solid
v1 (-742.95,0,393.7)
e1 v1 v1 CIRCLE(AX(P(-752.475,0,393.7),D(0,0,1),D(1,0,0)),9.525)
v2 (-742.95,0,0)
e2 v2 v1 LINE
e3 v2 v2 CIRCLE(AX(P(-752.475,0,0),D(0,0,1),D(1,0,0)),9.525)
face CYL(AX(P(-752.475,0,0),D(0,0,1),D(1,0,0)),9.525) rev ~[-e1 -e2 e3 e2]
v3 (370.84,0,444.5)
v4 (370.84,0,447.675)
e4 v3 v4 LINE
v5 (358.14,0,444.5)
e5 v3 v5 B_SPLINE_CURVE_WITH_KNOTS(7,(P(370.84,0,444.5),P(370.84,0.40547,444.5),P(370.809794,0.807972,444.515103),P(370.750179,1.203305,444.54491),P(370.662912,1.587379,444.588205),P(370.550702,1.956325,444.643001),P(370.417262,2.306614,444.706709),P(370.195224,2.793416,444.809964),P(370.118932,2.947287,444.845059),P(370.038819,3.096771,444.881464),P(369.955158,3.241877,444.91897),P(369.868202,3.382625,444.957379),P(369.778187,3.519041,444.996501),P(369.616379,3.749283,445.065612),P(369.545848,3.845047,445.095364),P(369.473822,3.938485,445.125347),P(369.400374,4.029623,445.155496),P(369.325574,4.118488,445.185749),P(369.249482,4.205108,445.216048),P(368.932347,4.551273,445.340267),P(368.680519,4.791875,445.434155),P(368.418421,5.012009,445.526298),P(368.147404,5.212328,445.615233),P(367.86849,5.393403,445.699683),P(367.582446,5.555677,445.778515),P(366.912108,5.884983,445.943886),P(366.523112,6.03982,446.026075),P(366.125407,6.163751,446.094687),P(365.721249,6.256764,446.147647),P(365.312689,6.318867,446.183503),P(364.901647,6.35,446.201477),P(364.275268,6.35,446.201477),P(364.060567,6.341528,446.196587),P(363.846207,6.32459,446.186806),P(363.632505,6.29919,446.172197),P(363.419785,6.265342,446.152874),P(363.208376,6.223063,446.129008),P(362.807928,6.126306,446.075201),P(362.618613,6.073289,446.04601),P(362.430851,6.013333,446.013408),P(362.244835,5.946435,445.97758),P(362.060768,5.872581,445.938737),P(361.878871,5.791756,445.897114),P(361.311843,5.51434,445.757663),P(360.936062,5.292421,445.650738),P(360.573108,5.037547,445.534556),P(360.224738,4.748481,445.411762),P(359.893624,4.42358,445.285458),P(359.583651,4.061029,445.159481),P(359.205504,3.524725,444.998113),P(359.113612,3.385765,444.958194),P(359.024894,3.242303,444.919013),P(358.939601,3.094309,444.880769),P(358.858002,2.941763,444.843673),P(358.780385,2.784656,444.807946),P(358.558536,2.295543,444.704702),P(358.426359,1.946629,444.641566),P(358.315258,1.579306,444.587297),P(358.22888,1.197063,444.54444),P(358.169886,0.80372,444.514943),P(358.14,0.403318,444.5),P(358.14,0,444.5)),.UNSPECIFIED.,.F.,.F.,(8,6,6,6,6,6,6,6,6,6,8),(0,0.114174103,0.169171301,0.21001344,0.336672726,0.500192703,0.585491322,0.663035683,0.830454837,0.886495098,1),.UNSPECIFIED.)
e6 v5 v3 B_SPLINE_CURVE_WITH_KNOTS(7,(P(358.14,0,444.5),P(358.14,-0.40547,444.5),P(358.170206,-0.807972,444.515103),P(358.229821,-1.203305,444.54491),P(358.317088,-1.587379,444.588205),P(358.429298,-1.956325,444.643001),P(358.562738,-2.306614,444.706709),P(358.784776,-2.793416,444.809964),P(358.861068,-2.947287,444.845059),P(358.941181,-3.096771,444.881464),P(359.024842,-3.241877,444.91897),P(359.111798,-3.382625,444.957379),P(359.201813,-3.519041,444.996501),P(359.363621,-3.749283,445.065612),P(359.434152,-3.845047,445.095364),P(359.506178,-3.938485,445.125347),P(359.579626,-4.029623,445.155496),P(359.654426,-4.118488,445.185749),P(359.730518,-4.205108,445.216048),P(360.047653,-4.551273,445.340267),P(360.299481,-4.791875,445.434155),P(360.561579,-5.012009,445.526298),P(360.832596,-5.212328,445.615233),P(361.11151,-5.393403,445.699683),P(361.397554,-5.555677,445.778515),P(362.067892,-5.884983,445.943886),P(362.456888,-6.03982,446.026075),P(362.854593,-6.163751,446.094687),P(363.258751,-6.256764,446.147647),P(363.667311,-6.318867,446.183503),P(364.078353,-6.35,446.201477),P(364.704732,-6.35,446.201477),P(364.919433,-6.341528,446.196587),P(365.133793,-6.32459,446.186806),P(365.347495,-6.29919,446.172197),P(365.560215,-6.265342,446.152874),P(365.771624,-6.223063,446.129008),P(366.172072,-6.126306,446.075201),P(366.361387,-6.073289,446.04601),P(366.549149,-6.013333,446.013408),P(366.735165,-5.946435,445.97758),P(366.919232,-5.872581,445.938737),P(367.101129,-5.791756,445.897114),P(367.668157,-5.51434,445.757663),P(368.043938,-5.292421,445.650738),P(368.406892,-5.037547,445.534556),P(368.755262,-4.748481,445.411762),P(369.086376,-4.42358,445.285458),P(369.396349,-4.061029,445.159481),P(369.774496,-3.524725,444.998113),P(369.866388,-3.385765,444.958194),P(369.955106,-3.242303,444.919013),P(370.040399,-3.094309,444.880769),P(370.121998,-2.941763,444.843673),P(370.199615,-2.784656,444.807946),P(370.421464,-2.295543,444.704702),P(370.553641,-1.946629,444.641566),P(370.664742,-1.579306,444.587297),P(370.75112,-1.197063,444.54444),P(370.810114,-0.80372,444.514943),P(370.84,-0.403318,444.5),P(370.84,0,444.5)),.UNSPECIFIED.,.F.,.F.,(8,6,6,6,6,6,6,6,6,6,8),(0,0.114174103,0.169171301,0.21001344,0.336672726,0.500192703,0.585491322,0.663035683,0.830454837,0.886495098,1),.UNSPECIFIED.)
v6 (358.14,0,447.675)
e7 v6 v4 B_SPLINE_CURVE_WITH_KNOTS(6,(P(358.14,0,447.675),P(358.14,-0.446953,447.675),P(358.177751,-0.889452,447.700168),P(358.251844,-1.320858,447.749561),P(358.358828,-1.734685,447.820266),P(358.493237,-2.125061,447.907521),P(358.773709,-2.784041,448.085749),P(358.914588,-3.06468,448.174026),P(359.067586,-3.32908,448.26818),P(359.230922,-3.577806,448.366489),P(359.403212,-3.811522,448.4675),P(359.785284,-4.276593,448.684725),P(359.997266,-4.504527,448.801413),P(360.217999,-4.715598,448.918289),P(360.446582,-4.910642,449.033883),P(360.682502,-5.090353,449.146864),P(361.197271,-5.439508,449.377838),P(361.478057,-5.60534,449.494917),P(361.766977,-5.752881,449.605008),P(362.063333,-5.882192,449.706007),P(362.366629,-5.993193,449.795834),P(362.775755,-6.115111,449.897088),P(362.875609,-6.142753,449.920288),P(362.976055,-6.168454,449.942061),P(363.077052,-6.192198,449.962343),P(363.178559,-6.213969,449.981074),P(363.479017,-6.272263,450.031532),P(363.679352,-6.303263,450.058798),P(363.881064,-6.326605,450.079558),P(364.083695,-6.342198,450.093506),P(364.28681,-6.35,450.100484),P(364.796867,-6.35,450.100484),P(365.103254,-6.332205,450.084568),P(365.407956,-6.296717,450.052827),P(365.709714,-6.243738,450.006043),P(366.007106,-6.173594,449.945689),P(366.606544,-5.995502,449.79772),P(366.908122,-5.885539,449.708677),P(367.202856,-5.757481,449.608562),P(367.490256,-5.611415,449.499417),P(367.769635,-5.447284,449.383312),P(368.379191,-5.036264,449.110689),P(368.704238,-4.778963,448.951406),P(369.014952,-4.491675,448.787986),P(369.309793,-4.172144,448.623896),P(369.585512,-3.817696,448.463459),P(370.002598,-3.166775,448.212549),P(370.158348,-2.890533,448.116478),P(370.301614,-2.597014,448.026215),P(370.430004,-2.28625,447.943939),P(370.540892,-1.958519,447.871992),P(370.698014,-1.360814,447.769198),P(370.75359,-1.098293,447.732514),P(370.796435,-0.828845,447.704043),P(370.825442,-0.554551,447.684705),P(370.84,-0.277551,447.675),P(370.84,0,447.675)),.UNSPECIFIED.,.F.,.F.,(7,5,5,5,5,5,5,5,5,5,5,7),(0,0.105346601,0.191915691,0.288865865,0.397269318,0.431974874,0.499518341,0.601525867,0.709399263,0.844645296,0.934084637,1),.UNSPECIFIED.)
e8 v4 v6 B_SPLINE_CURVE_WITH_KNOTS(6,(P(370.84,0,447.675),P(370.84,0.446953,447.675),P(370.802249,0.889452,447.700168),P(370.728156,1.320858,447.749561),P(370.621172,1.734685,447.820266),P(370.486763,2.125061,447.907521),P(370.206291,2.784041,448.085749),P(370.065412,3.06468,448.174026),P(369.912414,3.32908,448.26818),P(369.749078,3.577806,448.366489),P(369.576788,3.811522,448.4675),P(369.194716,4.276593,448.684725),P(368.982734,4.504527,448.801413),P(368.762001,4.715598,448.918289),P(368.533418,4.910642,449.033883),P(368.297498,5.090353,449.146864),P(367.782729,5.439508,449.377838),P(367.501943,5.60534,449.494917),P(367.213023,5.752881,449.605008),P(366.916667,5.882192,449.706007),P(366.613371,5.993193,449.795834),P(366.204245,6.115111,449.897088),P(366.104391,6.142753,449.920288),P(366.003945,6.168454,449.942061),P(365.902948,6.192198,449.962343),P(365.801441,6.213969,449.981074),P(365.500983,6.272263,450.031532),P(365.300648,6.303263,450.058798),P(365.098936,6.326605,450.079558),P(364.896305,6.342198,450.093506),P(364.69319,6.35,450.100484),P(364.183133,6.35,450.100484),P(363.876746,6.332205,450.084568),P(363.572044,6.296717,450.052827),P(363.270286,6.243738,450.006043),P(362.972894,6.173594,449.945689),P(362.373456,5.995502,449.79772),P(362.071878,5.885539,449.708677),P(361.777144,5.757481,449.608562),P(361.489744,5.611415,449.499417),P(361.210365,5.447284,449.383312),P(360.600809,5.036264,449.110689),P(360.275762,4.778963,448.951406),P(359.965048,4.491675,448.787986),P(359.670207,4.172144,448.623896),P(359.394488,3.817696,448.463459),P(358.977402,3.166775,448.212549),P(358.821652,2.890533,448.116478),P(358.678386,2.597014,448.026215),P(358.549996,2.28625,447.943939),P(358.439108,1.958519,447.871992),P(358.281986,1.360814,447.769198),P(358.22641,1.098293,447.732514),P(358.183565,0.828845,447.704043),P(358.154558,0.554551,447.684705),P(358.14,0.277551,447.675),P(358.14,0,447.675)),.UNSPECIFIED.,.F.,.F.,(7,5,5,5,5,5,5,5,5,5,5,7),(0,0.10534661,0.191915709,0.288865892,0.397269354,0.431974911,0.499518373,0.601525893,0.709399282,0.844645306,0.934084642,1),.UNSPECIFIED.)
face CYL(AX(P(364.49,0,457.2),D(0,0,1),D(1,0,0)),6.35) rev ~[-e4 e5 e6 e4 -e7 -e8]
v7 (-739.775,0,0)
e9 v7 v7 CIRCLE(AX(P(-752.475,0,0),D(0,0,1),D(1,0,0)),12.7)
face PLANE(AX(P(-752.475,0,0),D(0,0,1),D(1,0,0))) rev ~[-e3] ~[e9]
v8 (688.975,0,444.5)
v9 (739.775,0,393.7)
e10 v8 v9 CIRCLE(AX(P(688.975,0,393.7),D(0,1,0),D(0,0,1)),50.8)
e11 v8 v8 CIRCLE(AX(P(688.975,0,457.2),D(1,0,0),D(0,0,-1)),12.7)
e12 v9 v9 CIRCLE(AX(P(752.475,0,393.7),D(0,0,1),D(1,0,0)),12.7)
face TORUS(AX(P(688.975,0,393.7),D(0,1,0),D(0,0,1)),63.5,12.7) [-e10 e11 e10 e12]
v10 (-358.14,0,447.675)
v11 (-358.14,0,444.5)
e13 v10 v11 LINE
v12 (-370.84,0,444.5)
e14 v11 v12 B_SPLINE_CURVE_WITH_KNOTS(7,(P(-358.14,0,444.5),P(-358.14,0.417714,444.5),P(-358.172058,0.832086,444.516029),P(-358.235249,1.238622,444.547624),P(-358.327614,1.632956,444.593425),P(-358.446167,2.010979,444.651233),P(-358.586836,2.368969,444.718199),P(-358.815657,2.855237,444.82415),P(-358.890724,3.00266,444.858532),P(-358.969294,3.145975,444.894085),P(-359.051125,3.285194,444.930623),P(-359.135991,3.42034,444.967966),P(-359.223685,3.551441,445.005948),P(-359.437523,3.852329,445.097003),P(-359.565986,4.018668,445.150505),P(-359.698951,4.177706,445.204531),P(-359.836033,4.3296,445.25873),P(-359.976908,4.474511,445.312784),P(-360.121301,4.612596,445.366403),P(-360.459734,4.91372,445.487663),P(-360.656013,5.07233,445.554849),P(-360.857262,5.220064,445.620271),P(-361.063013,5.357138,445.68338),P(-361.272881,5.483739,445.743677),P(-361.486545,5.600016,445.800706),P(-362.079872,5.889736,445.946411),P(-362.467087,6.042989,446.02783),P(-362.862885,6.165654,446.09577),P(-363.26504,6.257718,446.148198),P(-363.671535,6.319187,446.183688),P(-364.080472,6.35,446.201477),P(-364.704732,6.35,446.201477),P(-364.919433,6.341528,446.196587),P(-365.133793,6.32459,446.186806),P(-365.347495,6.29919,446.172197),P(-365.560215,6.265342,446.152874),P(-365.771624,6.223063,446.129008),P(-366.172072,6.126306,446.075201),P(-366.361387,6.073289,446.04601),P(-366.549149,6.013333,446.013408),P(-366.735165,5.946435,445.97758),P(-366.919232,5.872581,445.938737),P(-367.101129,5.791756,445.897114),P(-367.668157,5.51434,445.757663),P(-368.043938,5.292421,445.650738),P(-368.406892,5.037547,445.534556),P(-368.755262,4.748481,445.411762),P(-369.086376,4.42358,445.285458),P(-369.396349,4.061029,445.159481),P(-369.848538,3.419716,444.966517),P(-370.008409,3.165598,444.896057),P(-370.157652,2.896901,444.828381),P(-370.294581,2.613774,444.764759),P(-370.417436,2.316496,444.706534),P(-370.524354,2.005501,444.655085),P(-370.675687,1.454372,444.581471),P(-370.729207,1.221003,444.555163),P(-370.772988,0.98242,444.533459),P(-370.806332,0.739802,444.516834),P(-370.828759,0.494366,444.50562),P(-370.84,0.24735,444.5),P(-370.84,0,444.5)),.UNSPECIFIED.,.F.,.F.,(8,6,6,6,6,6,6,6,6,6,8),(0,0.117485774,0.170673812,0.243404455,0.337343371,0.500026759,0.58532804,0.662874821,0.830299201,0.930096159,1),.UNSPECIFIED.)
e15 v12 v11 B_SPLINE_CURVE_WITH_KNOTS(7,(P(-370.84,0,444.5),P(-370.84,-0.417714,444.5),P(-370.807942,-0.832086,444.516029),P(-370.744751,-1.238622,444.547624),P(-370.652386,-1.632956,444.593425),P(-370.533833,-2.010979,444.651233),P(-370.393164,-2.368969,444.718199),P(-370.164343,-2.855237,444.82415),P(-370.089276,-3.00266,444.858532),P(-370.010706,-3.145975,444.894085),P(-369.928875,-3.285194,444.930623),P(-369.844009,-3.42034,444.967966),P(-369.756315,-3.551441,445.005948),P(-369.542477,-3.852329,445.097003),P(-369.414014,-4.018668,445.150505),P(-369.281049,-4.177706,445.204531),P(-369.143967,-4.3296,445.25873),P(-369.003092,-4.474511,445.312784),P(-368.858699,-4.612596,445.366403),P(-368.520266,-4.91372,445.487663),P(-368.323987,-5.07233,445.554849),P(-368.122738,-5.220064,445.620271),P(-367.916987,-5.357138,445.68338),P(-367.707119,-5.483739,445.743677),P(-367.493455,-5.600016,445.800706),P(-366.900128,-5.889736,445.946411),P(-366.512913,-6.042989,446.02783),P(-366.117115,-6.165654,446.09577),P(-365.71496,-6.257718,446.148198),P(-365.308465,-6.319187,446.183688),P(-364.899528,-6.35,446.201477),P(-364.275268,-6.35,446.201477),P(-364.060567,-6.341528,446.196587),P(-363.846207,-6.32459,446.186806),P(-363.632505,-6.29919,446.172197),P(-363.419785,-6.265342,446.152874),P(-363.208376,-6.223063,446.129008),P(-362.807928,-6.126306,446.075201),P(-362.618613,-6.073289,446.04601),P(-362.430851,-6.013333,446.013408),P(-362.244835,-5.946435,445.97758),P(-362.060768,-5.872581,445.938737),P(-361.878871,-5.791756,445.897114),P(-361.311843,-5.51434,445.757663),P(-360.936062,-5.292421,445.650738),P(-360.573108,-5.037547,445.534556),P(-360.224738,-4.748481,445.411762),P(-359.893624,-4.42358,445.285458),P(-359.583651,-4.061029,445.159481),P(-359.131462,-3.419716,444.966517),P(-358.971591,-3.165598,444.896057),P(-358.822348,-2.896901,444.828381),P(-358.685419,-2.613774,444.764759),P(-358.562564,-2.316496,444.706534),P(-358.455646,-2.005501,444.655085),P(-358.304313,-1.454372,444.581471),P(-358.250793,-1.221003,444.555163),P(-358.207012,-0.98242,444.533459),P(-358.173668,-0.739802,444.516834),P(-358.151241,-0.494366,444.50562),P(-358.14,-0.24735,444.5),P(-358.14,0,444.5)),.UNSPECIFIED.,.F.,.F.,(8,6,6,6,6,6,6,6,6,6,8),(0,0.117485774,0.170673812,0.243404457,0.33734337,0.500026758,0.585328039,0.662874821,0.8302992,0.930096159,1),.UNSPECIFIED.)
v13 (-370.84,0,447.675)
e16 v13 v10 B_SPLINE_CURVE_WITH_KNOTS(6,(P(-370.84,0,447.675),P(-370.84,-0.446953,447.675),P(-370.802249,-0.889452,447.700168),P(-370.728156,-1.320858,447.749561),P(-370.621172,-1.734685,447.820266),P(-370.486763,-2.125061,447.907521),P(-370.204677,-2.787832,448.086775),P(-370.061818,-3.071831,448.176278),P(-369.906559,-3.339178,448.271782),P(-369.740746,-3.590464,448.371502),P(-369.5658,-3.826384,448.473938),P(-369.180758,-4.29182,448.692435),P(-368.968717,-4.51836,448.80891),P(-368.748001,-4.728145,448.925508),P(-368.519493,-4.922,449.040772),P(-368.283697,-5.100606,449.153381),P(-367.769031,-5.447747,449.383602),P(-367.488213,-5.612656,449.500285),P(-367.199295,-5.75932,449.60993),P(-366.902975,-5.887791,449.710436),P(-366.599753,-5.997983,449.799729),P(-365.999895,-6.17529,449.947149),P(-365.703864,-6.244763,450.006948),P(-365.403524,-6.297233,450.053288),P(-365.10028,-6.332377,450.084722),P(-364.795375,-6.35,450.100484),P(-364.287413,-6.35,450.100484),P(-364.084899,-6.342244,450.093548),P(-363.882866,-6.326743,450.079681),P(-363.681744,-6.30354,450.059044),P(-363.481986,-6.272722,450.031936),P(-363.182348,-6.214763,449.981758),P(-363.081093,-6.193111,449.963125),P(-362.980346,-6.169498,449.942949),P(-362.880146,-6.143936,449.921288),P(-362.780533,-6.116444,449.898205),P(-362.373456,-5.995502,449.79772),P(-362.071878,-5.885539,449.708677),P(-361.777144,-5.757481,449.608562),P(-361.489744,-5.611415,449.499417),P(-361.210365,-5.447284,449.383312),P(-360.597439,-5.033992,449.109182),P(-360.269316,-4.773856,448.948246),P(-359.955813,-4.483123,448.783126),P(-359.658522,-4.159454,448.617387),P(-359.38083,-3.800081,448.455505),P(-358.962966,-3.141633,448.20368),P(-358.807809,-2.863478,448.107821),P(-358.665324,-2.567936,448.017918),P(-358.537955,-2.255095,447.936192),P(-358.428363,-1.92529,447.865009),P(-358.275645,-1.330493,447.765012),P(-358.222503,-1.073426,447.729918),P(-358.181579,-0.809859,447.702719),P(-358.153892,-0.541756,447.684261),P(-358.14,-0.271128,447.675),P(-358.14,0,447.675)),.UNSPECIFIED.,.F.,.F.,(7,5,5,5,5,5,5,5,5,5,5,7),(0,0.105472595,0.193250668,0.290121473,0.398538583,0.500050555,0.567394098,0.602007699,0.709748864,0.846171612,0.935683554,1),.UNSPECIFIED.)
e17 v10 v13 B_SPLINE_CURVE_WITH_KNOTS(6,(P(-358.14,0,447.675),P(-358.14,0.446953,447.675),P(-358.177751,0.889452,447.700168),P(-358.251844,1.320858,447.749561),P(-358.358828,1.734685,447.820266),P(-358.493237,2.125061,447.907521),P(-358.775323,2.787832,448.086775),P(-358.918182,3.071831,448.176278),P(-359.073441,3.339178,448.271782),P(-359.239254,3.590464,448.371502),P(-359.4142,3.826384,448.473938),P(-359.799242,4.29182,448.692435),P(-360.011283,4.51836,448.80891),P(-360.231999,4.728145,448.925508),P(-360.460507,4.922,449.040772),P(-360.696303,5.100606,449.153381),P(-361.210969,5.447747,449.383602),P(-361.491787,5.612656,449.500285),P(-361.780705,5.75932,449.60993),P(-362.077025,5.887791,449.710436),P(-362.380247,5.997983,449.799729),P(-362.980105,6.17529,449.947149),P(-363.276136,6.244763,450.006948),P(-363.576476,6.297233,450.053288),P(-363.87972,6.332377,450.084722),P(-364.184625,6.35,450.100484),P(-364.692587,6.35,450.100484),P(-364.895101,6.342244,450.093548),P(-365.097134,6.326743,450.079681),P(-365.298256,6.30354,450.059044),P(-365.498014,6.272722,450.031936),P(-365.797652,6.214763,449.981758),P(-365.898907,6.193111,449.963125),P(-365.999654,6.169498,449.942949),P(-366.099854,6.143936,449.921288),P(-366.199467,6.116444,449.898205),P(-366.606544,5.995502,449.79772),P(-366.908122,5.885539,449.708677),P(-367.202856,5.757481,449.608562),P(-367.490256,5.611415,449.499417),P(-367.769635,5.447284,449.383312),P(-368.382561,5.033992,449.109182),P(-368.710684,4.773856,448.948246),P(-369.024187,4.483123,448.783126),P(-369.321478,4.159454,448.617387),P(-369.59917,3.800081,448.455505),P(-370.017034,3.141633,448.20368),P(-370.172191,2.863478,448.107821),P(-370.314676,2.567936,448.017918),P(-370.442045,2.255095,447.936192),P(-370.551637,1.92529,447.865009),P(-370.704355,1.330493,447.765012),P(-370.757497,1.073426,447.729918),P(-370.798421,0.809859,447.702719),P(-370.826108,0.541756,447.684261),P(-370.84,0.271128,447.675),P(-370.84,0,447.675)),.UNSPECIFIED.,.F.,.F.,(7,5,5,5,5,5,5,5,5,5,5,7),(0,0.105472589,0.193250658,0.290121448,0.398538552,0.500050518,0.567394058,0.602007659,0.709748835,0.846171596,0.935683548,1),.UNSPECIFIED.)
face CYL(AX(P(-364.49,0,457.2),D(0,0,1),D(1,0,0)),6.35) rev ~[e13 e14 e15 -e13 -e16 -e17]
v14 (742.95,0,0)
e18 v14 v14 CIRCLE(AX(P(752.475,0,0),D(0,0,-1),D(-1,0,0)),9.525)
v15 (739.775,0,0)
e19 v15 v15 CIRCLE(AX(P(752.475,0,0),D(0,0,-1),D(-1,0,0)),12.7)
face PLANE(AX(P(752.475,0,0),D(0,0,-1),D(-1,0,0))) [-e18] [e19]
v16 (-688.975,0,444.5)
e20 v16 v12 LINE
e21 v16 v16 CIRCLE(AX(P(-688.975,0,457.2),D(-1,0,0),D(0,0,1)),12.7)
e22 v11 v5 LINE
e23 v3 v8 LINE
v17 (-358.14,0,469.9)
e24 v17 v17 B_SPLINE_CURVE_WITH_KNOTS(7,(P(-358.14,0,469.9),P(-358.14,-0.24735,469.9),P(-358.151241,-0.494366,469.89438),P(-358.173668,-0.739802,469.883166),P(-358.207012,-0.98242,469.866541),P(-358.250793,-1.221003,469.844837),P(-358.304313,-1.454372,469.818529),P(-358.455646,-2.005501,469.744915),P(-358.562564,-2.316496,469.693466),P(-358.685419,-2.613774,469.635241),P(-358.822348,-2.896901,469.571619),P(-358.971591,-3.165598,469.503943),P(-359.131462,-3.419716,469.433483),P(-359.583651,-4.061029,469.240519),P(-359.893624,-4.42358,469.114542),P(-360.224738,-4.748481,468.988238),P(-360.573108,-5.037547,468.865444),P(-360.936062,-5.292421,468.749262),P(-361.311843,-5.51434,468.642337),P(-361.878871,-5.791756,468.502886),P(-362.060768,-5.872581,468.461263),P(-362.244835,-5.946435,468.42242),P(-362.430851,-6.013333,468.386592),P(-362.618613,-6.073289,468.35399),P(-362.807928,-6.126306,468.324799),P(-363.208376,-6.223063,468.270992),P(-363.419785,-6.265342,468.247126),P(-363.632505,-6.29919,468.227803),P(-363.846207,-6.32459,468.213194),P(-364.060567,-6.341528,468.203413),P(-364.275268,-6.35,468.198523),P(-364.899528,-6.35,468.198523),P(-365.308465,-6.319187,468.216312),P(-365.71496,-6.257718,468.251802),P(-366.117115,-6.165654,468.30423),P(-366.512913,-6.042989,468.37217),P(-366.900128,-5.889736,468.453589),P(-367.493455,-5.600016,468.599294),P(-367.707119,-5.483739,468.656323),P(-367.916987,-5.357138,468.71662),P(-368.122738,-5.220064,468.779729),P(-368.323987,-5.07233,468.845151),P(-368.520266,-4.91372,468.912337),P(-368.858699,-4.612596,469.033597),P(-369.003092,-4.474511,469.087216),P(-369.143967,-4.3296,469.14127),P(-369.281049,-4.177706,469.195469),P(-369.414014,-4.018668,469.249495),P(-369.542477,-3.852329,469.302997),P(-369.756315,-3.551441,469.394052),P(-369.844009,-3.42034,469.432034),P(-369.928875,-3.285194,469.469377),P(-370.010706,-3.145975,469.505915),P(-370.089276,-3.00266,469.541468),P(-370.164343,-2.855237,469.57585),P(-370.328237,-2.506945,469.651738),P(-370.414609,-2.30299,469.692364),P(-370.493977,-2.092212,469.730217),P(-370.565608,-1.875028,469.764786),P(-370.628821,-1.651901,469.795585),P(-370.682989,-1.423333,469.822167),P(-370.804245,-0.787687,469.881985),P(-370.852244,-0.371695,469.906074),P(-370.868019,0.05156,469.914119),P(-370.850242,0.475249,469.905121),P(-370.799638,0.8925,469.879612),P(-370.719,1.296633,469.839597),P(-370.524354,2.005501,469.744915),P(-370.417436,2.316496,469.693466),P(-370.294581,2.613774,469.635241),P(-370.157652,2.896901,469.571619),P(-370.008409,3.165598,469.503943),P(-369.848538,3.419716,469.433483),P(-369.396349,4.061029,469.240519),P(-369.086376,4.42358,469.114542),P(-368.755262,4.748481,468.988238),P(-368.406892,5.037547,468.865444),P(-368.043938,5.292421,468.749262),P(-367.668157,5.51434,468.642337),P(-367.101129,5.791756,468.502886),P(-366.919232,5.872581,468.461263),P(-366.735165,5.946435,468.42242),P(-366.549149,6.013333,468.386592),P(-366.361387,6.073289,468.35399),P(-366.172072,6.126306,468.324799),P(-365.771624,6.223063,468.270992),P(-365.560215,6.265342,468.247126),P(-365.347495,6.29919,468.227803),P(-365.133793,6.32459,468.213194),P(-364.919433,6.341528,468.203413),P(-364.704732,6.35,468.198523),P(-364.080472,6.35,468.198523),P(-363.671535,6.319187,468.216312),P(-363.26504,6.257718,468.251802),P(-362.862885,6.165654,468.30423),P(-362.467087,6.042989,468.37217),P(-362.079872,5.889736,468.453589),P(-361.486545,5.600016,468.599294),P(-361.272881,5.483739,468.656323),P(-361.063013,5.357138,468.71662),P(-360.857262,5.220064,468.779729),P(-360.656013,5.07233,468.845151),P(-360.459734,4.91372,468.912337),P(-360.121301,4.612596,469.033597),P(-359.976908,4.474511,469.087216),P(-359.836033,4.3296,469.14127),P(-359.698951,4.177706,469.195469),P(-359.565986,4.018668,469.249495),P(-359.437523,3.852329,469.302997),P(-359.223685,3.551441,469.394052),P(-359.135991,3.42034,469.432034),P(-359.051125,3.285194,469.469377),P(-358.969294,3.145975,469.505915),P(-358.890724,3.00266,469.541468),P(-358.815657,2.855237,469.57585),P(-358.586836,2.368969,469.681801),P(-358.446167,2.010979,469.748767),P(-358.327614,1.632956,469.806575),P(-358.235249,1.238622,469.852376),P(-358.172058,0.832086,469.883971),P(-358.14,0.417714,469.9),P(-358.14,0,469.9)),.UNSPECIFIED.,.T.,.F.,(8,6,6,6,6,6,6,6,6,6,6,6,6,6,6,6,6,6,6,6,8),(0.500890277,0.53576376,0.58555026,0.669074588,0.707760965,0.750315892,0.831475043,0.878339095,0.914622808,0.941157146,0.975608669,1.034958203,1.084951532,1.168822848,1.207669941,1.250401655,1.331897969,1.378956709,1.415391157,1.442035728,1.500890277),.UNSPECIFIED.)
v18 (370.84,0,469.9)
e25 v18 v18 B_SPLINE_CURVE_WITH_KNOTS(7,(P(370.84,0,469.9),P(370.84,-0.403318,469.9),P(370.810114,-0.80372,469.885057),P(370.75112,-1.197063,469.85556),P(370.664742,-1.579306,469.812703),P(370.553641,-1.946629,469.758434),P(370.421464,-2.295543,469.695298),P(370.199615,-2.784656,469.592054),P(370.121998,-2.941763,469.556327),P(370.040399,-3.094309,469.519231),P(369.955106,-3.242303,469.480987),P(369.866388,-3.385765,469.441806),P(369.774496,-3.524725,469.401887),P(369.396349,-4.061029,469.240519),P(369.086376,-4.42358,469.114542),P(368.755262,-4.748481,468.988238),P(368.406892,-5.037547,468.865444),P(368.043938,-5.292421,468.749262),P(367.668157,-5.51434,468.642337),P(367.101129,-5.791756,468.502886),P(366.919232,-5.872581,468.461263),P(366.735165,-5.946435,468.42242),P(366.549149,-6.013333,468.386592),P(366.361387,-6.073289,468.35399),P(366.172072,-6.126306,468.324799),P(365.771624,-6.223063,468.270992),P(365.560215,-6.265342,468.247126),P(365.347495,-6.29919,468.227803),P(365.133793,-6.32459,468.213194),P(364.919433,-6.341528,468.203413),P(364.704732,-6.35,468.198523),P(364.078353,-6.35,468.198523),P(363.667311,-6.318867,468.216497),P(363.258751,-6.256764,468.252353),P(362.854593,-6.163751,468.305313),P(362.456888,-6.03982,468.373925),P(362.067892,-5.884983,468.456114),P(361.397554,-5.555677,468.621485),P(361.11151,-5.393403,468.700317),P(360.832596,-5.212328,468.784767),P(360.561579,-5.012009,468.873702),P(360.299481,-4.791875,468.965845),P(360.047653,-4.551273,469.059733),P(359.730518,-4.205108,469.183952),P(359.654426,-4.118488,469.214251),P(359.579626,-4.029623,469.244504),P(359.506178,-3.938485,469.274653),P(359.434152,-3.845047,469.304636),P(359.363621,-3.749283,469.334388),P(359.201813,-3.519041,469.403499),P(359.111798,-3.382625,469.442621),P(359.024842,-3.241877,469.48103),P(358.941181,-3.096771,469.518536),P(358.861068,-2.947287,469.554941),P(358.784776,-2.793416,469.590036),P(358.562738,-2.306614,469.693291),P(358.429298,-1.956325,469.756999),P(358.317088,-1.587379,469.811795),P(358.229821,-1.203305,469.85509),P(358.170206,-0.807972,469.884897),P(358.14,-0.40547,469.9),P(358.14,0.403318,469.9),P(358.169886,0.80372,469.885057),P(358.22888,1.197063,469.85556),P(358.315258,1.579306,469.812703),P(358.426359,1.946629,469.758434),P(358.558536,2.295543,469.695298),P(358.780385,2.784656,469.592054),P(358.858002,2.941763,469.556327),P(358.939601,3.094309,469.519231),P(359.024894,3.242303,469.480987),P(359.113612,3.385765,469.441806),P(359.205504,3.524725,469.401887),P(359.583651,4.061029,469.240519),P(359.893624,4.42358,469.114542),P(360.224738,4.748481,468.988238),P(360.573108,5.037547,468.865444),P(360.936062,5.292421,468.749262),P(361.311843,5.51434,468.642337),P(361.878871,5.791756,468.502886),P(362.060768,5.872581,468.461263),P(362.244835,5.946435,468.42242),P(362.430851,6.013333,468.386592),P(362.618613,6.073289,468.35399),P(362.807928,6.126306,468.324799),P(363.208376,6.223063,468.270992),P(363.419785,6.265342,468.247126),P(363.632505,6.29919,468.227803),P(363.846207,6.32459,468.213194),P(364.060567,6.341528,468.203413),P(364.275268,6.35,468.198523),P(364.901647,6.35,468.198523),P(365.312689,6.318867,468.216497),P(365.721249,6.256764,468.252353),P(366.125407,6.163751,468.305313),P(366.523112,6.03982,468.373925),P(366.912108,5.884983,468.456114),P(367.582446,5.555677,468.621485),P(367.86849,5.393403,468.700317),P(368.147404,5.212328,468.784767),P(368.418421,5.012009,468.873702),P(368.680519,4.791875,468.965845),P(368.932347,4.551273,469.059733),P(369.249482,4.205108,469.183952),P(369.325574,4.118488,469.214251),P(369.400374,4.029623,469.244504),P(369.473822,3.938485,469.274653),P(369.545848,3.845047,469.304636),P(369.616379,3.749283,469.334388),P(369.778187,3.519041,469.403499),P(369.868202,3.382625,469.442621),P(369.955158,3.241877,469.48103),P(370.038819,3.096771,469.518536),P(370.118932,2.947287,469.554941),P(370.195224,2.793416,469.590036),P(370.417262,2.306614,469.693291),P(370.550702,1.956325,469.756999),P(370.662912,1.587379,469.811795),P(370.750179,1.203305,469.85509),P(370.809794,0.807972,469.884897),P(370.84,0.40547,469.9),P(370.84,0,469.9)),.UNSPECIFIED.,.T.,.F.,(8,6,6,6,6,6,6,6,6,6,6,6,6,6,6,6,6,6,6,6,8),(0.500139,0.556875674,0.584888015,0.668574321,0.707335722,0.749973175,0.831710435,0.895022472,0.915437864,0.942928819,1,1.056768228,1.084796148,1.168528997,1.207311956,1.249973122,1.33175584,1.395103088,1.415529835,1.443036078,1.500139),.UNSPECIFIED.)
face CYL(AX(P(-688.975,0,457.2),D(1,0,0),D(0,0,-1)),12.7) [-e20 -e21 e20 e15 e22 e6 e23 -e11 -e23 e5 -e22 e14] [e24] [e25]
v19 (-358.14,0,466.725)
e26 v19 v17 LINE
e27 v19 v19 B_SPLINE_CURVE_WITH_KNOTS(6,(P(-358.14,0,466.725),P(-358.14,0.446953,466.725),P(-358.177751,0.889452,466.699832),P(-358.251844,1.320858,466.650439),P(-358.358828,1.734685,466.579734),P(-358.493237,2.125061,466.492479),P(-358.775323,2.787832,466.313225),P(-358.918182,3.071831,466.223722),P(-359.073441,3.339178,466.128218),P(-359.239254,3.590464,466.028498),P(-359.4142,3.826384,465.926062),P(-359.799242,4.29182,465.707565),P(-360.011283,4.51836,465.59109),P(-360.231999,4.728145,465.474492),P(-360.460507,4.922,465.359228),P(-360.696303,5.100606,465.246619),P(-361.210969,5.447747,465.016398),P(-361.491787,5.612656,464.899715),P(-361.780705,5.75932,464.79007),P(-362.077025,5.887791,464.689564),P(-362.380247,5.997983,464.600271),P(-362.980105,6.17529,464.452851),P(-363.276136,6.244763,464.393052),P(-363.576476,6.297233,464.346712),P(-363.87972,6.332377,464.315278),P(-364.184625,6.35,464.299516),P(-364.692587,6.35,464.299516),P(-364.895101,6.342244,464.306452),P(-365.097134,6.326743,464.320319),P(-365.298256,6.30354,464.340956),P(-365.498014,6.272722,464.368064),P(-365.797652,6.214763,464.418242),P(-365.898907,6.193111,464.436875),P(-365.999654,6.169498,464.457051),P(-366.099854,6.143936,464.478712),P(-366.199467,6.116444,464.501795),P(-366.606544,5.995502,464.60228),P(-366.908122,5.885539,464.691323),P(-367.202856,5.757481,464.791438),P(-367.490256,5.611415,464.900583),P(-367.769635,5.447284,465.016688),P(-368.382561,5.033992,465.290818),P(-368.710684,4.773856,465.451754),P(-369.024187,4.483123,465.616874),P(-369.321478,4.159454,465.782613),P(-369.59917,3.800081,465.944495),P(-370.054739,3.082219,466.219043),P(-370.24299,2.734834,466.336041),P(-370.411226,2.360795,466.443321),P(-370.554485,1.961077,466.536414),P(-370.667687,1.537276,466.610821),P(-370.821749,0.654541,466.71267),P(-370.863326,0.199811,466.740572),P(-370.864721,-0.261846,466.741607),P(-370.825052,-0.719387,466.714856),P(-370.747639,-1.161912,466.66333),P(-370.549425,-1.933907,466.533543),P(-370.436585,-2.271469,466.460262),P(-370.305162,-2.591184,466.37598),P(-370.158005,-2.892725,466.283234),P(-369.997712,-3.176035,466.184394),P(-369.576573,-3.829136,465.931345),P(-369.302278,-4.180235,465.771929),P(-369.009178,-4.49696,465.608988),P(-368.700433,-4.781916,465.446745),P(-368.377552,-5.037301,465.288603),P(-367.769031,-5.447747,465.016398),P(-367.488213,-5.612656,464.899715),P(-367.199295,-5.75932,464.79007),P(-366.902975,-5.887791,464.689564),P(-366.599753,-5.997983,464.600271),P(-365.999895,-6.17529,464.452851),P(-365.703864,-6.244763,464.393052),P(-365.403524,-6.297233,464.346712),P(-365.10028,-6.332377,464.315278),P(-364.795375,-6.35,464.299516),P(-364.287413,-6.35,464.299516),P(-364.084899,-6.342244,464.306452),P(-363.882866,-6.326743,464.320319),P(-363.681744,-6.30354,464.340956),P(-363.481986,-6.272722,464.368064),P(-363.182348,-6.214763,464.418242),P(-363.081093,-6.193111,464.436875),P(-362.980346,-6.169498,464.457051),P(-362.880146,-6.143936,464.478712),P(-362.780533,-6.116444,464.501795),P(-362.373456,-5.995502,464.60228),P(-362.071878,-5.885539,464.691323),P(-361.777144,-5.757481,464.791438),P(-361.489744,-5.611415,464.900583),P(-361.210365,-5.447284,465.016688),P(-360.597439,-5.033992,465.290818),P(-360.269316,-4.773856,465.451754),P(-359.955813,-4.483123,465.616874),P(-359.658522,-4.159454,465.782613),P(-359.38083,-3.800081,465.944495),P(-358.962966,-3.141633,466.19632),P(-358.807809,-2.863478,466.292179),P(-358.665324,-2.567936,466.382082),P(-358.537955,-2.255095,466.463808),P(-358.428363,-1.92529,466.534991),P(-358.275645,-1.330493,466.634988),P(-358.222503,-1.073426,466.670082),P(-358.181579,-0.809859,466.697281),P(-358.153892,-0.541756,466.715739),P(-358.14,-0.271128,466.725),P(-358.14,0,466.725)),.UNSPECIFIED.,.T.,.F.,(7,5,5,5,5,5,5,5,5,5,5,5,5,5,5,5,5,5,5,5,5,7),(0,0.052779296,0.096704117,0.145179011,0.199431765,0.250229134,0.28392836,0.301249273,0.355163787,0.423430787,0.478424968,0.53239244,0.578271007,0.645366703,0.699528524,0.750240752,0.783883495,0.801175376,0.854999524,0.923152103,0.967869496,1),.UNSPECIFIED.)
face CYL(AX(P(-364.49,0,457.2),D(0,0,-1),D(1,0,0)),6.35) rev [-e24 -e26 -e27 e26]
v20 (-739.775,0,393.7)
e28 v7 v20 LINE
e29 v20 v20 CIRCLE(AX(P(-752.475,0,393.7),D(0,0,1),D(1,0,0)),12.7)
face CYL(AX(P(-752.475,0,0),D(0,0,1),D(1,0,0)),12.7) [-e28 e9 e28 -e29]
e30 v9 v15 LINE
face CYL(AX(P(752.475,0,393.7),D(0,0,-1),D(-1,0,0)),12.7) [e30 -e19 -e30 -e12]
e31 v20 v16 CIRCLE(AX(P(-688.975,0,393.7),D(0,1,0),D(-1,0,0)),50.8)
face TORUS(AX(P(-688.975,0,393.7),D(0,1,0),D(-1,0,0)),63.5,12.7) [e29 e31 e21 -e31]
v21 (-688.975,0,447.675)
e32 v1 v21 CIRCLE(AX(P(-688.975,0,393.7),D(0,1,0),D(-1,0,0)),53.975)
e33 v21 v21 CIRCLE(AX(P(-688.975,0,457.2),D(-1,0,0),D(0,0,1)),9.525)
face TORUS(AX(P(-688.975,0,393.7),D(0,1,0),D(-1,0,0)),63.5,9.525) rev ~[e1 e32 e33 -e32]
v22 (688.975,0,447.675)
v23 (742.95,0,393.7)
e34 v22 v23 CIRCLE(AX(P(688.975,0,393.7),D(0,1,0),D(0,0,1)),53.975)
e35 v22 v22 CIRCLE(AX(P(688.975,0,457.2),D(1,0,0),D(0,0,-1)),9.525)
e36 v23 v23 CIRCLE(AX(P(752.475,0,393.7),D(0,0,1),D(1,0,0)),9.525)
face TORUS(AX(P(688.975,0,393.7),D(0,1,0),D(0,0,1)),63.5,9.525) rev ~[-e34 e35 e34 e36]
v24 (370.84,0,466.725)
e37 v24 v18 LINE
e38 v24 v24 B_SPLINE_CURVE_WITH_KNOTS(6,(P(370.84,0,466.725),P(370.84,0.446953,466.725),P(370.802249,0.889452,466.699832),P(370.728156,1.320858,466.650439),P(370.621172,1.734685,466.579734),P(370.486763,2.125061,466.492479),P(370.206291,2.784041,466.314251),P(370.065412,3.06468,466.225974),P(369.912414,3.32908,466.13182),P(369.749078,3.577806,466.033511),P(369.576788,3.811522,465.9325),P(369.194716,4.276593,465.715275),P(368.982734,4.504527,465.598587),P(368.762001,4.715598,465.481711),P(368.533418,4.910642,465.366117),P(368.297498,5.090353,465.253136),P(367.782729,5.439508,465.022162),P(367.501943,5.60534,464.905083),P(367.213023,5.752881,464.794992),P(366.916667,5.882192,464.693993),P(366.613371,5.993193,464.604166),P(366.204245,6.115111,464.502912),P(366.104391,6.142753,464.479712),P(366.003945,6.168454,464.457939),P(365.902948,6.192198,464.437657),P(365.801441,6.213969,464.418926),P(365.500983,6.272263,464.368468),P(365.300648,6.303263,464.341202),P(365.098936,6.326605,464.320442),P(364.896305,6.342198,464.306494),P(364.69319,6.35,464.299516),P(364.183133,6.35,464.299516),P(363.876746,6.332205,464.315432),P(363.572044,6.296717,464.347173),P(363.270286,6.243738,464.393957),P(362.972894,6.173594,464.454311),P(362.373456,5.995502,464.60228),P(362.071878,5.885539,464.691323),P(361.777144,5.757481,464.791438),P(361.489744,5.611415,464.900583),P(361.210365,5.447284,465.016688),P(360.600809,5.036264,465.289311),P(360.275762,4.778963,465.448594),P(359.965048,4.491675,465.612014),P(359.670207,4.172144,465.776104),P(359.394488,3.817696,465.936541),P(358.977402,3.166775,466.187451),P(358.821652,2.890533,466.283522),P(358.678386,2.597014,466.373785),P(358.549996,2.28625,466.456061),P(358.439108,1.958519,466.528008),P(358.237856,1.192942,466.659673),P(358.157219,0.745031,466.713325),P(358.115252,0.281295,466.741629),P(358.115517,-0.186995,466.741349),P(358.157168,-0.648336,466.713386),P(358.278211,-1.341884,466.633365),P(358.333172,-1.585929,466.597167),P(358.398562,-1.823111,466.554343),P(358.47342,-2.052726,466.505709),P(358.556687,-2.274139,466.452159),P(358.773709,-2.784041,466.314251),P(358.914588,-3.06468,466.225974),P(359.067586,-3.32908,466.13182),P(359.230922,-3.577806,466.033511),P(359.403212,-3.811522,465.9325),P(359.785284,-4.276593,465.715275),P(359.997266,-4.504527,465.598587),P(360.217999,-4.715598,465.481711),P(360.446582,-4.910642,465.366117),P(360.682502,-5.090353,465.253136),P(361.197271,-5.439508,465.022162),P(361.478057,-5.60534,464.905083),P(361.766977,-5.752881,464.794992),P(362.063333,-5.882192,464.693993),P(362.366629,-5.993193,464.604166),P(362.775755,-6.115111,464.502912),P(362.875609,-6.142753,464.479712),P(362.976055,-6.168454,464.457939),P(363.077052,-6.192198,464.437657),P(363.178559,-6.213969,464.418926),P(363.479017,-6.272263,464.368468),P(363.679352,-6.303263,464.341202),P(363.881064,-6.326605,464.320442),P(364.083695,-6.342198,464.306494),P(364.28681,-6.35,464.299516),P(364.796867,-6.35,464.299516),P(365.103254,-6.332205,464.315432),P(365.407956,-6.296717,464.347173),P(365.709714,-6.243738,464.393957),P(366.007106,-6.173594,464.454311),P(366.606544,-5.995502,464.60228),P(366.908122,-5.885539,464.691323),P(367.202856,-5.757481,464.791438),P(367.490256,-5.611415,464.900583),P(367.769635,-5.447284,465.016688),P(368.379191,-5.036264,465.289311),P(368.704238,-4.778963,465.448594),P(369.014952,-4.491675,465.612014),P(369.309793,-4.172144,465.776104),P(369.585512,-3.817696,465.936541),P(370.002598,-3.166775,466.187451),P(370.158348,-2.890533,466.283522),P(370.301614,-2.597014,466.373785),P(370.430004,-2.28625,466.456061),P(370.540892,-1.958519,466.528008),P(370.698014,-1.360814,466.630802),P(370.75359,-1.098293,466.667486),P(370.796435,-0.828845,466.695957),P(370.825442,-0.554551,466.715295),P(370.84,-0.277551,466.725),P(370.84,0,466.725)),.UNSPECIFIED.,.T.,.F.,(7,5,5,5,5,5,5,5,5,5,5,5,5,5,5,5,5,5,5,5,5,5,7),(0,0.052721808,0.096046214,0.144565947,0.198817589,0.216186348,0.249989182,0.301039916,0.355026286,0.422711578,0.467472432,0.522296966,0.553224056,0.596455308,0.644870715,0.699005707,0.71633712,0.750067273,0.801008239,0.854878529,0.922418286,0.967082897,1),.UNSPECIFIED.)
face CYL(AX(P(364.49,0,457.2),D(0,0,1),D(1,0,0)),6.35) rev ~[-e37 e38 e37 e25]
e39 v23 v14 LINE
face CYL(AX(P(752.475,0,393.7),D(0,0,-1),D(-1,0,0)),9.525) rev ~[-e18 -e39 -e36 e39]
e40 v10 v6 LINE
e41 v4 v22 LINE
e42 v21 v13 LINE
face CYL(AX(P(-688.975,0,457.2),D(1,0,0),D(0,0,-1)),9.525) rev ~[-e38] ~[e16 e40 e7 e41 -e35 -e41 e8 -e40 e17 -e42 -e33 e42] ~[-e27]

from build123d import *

# Parameters (mm, degrees)
F1_R     = 12.7
F1_R_2   = 9.525
F4_R     = 6.35
F5_DEPTH = 12.7


with BuildPart() as f2:
    # F2: sweep along a path in F0
    with BuildLine(Plane.XZ) as f2_path:
        Line((-752.475, 0), (-752.475, 393.7))
        ThreePointArc((-752.475, 393.7), (-733.8762806053, 438.6012806053), (-688.975, 457.2))
        Line((-688.975, 457.2), (688.975, 457.2))
        ThreePointArc((688.975, 457.2), (733.8762806053, 438.6012806053), (752.475, 393.7))
        Line((752.475, 393.7), (752.475, 0))
    # F1 (on Top) → F2 (sweep)
    with BuildSketch(Plane.XY):
        with Locations((-752.475, 0)):
            Circle(F1_R)
        with Locations((-752.475, 0)):
            Circle(F1_R_2, mode=Mode.SUBTRACT)
    sweep(path=f2_path.line)

    # F4 (on offset) → F5 (cut, symmetric)
    with BuildSketch(Plane.XY.offset(457.2)):
        with Locations((-364.49, 0)):
            Circle(F4_R)
        with Locations((364.49, 0)):
            Circle(F4_R)
    extrude(amount=F5_DEPTH, both=True, mode=Mode.SUBTRACT)


solid = f2.part
